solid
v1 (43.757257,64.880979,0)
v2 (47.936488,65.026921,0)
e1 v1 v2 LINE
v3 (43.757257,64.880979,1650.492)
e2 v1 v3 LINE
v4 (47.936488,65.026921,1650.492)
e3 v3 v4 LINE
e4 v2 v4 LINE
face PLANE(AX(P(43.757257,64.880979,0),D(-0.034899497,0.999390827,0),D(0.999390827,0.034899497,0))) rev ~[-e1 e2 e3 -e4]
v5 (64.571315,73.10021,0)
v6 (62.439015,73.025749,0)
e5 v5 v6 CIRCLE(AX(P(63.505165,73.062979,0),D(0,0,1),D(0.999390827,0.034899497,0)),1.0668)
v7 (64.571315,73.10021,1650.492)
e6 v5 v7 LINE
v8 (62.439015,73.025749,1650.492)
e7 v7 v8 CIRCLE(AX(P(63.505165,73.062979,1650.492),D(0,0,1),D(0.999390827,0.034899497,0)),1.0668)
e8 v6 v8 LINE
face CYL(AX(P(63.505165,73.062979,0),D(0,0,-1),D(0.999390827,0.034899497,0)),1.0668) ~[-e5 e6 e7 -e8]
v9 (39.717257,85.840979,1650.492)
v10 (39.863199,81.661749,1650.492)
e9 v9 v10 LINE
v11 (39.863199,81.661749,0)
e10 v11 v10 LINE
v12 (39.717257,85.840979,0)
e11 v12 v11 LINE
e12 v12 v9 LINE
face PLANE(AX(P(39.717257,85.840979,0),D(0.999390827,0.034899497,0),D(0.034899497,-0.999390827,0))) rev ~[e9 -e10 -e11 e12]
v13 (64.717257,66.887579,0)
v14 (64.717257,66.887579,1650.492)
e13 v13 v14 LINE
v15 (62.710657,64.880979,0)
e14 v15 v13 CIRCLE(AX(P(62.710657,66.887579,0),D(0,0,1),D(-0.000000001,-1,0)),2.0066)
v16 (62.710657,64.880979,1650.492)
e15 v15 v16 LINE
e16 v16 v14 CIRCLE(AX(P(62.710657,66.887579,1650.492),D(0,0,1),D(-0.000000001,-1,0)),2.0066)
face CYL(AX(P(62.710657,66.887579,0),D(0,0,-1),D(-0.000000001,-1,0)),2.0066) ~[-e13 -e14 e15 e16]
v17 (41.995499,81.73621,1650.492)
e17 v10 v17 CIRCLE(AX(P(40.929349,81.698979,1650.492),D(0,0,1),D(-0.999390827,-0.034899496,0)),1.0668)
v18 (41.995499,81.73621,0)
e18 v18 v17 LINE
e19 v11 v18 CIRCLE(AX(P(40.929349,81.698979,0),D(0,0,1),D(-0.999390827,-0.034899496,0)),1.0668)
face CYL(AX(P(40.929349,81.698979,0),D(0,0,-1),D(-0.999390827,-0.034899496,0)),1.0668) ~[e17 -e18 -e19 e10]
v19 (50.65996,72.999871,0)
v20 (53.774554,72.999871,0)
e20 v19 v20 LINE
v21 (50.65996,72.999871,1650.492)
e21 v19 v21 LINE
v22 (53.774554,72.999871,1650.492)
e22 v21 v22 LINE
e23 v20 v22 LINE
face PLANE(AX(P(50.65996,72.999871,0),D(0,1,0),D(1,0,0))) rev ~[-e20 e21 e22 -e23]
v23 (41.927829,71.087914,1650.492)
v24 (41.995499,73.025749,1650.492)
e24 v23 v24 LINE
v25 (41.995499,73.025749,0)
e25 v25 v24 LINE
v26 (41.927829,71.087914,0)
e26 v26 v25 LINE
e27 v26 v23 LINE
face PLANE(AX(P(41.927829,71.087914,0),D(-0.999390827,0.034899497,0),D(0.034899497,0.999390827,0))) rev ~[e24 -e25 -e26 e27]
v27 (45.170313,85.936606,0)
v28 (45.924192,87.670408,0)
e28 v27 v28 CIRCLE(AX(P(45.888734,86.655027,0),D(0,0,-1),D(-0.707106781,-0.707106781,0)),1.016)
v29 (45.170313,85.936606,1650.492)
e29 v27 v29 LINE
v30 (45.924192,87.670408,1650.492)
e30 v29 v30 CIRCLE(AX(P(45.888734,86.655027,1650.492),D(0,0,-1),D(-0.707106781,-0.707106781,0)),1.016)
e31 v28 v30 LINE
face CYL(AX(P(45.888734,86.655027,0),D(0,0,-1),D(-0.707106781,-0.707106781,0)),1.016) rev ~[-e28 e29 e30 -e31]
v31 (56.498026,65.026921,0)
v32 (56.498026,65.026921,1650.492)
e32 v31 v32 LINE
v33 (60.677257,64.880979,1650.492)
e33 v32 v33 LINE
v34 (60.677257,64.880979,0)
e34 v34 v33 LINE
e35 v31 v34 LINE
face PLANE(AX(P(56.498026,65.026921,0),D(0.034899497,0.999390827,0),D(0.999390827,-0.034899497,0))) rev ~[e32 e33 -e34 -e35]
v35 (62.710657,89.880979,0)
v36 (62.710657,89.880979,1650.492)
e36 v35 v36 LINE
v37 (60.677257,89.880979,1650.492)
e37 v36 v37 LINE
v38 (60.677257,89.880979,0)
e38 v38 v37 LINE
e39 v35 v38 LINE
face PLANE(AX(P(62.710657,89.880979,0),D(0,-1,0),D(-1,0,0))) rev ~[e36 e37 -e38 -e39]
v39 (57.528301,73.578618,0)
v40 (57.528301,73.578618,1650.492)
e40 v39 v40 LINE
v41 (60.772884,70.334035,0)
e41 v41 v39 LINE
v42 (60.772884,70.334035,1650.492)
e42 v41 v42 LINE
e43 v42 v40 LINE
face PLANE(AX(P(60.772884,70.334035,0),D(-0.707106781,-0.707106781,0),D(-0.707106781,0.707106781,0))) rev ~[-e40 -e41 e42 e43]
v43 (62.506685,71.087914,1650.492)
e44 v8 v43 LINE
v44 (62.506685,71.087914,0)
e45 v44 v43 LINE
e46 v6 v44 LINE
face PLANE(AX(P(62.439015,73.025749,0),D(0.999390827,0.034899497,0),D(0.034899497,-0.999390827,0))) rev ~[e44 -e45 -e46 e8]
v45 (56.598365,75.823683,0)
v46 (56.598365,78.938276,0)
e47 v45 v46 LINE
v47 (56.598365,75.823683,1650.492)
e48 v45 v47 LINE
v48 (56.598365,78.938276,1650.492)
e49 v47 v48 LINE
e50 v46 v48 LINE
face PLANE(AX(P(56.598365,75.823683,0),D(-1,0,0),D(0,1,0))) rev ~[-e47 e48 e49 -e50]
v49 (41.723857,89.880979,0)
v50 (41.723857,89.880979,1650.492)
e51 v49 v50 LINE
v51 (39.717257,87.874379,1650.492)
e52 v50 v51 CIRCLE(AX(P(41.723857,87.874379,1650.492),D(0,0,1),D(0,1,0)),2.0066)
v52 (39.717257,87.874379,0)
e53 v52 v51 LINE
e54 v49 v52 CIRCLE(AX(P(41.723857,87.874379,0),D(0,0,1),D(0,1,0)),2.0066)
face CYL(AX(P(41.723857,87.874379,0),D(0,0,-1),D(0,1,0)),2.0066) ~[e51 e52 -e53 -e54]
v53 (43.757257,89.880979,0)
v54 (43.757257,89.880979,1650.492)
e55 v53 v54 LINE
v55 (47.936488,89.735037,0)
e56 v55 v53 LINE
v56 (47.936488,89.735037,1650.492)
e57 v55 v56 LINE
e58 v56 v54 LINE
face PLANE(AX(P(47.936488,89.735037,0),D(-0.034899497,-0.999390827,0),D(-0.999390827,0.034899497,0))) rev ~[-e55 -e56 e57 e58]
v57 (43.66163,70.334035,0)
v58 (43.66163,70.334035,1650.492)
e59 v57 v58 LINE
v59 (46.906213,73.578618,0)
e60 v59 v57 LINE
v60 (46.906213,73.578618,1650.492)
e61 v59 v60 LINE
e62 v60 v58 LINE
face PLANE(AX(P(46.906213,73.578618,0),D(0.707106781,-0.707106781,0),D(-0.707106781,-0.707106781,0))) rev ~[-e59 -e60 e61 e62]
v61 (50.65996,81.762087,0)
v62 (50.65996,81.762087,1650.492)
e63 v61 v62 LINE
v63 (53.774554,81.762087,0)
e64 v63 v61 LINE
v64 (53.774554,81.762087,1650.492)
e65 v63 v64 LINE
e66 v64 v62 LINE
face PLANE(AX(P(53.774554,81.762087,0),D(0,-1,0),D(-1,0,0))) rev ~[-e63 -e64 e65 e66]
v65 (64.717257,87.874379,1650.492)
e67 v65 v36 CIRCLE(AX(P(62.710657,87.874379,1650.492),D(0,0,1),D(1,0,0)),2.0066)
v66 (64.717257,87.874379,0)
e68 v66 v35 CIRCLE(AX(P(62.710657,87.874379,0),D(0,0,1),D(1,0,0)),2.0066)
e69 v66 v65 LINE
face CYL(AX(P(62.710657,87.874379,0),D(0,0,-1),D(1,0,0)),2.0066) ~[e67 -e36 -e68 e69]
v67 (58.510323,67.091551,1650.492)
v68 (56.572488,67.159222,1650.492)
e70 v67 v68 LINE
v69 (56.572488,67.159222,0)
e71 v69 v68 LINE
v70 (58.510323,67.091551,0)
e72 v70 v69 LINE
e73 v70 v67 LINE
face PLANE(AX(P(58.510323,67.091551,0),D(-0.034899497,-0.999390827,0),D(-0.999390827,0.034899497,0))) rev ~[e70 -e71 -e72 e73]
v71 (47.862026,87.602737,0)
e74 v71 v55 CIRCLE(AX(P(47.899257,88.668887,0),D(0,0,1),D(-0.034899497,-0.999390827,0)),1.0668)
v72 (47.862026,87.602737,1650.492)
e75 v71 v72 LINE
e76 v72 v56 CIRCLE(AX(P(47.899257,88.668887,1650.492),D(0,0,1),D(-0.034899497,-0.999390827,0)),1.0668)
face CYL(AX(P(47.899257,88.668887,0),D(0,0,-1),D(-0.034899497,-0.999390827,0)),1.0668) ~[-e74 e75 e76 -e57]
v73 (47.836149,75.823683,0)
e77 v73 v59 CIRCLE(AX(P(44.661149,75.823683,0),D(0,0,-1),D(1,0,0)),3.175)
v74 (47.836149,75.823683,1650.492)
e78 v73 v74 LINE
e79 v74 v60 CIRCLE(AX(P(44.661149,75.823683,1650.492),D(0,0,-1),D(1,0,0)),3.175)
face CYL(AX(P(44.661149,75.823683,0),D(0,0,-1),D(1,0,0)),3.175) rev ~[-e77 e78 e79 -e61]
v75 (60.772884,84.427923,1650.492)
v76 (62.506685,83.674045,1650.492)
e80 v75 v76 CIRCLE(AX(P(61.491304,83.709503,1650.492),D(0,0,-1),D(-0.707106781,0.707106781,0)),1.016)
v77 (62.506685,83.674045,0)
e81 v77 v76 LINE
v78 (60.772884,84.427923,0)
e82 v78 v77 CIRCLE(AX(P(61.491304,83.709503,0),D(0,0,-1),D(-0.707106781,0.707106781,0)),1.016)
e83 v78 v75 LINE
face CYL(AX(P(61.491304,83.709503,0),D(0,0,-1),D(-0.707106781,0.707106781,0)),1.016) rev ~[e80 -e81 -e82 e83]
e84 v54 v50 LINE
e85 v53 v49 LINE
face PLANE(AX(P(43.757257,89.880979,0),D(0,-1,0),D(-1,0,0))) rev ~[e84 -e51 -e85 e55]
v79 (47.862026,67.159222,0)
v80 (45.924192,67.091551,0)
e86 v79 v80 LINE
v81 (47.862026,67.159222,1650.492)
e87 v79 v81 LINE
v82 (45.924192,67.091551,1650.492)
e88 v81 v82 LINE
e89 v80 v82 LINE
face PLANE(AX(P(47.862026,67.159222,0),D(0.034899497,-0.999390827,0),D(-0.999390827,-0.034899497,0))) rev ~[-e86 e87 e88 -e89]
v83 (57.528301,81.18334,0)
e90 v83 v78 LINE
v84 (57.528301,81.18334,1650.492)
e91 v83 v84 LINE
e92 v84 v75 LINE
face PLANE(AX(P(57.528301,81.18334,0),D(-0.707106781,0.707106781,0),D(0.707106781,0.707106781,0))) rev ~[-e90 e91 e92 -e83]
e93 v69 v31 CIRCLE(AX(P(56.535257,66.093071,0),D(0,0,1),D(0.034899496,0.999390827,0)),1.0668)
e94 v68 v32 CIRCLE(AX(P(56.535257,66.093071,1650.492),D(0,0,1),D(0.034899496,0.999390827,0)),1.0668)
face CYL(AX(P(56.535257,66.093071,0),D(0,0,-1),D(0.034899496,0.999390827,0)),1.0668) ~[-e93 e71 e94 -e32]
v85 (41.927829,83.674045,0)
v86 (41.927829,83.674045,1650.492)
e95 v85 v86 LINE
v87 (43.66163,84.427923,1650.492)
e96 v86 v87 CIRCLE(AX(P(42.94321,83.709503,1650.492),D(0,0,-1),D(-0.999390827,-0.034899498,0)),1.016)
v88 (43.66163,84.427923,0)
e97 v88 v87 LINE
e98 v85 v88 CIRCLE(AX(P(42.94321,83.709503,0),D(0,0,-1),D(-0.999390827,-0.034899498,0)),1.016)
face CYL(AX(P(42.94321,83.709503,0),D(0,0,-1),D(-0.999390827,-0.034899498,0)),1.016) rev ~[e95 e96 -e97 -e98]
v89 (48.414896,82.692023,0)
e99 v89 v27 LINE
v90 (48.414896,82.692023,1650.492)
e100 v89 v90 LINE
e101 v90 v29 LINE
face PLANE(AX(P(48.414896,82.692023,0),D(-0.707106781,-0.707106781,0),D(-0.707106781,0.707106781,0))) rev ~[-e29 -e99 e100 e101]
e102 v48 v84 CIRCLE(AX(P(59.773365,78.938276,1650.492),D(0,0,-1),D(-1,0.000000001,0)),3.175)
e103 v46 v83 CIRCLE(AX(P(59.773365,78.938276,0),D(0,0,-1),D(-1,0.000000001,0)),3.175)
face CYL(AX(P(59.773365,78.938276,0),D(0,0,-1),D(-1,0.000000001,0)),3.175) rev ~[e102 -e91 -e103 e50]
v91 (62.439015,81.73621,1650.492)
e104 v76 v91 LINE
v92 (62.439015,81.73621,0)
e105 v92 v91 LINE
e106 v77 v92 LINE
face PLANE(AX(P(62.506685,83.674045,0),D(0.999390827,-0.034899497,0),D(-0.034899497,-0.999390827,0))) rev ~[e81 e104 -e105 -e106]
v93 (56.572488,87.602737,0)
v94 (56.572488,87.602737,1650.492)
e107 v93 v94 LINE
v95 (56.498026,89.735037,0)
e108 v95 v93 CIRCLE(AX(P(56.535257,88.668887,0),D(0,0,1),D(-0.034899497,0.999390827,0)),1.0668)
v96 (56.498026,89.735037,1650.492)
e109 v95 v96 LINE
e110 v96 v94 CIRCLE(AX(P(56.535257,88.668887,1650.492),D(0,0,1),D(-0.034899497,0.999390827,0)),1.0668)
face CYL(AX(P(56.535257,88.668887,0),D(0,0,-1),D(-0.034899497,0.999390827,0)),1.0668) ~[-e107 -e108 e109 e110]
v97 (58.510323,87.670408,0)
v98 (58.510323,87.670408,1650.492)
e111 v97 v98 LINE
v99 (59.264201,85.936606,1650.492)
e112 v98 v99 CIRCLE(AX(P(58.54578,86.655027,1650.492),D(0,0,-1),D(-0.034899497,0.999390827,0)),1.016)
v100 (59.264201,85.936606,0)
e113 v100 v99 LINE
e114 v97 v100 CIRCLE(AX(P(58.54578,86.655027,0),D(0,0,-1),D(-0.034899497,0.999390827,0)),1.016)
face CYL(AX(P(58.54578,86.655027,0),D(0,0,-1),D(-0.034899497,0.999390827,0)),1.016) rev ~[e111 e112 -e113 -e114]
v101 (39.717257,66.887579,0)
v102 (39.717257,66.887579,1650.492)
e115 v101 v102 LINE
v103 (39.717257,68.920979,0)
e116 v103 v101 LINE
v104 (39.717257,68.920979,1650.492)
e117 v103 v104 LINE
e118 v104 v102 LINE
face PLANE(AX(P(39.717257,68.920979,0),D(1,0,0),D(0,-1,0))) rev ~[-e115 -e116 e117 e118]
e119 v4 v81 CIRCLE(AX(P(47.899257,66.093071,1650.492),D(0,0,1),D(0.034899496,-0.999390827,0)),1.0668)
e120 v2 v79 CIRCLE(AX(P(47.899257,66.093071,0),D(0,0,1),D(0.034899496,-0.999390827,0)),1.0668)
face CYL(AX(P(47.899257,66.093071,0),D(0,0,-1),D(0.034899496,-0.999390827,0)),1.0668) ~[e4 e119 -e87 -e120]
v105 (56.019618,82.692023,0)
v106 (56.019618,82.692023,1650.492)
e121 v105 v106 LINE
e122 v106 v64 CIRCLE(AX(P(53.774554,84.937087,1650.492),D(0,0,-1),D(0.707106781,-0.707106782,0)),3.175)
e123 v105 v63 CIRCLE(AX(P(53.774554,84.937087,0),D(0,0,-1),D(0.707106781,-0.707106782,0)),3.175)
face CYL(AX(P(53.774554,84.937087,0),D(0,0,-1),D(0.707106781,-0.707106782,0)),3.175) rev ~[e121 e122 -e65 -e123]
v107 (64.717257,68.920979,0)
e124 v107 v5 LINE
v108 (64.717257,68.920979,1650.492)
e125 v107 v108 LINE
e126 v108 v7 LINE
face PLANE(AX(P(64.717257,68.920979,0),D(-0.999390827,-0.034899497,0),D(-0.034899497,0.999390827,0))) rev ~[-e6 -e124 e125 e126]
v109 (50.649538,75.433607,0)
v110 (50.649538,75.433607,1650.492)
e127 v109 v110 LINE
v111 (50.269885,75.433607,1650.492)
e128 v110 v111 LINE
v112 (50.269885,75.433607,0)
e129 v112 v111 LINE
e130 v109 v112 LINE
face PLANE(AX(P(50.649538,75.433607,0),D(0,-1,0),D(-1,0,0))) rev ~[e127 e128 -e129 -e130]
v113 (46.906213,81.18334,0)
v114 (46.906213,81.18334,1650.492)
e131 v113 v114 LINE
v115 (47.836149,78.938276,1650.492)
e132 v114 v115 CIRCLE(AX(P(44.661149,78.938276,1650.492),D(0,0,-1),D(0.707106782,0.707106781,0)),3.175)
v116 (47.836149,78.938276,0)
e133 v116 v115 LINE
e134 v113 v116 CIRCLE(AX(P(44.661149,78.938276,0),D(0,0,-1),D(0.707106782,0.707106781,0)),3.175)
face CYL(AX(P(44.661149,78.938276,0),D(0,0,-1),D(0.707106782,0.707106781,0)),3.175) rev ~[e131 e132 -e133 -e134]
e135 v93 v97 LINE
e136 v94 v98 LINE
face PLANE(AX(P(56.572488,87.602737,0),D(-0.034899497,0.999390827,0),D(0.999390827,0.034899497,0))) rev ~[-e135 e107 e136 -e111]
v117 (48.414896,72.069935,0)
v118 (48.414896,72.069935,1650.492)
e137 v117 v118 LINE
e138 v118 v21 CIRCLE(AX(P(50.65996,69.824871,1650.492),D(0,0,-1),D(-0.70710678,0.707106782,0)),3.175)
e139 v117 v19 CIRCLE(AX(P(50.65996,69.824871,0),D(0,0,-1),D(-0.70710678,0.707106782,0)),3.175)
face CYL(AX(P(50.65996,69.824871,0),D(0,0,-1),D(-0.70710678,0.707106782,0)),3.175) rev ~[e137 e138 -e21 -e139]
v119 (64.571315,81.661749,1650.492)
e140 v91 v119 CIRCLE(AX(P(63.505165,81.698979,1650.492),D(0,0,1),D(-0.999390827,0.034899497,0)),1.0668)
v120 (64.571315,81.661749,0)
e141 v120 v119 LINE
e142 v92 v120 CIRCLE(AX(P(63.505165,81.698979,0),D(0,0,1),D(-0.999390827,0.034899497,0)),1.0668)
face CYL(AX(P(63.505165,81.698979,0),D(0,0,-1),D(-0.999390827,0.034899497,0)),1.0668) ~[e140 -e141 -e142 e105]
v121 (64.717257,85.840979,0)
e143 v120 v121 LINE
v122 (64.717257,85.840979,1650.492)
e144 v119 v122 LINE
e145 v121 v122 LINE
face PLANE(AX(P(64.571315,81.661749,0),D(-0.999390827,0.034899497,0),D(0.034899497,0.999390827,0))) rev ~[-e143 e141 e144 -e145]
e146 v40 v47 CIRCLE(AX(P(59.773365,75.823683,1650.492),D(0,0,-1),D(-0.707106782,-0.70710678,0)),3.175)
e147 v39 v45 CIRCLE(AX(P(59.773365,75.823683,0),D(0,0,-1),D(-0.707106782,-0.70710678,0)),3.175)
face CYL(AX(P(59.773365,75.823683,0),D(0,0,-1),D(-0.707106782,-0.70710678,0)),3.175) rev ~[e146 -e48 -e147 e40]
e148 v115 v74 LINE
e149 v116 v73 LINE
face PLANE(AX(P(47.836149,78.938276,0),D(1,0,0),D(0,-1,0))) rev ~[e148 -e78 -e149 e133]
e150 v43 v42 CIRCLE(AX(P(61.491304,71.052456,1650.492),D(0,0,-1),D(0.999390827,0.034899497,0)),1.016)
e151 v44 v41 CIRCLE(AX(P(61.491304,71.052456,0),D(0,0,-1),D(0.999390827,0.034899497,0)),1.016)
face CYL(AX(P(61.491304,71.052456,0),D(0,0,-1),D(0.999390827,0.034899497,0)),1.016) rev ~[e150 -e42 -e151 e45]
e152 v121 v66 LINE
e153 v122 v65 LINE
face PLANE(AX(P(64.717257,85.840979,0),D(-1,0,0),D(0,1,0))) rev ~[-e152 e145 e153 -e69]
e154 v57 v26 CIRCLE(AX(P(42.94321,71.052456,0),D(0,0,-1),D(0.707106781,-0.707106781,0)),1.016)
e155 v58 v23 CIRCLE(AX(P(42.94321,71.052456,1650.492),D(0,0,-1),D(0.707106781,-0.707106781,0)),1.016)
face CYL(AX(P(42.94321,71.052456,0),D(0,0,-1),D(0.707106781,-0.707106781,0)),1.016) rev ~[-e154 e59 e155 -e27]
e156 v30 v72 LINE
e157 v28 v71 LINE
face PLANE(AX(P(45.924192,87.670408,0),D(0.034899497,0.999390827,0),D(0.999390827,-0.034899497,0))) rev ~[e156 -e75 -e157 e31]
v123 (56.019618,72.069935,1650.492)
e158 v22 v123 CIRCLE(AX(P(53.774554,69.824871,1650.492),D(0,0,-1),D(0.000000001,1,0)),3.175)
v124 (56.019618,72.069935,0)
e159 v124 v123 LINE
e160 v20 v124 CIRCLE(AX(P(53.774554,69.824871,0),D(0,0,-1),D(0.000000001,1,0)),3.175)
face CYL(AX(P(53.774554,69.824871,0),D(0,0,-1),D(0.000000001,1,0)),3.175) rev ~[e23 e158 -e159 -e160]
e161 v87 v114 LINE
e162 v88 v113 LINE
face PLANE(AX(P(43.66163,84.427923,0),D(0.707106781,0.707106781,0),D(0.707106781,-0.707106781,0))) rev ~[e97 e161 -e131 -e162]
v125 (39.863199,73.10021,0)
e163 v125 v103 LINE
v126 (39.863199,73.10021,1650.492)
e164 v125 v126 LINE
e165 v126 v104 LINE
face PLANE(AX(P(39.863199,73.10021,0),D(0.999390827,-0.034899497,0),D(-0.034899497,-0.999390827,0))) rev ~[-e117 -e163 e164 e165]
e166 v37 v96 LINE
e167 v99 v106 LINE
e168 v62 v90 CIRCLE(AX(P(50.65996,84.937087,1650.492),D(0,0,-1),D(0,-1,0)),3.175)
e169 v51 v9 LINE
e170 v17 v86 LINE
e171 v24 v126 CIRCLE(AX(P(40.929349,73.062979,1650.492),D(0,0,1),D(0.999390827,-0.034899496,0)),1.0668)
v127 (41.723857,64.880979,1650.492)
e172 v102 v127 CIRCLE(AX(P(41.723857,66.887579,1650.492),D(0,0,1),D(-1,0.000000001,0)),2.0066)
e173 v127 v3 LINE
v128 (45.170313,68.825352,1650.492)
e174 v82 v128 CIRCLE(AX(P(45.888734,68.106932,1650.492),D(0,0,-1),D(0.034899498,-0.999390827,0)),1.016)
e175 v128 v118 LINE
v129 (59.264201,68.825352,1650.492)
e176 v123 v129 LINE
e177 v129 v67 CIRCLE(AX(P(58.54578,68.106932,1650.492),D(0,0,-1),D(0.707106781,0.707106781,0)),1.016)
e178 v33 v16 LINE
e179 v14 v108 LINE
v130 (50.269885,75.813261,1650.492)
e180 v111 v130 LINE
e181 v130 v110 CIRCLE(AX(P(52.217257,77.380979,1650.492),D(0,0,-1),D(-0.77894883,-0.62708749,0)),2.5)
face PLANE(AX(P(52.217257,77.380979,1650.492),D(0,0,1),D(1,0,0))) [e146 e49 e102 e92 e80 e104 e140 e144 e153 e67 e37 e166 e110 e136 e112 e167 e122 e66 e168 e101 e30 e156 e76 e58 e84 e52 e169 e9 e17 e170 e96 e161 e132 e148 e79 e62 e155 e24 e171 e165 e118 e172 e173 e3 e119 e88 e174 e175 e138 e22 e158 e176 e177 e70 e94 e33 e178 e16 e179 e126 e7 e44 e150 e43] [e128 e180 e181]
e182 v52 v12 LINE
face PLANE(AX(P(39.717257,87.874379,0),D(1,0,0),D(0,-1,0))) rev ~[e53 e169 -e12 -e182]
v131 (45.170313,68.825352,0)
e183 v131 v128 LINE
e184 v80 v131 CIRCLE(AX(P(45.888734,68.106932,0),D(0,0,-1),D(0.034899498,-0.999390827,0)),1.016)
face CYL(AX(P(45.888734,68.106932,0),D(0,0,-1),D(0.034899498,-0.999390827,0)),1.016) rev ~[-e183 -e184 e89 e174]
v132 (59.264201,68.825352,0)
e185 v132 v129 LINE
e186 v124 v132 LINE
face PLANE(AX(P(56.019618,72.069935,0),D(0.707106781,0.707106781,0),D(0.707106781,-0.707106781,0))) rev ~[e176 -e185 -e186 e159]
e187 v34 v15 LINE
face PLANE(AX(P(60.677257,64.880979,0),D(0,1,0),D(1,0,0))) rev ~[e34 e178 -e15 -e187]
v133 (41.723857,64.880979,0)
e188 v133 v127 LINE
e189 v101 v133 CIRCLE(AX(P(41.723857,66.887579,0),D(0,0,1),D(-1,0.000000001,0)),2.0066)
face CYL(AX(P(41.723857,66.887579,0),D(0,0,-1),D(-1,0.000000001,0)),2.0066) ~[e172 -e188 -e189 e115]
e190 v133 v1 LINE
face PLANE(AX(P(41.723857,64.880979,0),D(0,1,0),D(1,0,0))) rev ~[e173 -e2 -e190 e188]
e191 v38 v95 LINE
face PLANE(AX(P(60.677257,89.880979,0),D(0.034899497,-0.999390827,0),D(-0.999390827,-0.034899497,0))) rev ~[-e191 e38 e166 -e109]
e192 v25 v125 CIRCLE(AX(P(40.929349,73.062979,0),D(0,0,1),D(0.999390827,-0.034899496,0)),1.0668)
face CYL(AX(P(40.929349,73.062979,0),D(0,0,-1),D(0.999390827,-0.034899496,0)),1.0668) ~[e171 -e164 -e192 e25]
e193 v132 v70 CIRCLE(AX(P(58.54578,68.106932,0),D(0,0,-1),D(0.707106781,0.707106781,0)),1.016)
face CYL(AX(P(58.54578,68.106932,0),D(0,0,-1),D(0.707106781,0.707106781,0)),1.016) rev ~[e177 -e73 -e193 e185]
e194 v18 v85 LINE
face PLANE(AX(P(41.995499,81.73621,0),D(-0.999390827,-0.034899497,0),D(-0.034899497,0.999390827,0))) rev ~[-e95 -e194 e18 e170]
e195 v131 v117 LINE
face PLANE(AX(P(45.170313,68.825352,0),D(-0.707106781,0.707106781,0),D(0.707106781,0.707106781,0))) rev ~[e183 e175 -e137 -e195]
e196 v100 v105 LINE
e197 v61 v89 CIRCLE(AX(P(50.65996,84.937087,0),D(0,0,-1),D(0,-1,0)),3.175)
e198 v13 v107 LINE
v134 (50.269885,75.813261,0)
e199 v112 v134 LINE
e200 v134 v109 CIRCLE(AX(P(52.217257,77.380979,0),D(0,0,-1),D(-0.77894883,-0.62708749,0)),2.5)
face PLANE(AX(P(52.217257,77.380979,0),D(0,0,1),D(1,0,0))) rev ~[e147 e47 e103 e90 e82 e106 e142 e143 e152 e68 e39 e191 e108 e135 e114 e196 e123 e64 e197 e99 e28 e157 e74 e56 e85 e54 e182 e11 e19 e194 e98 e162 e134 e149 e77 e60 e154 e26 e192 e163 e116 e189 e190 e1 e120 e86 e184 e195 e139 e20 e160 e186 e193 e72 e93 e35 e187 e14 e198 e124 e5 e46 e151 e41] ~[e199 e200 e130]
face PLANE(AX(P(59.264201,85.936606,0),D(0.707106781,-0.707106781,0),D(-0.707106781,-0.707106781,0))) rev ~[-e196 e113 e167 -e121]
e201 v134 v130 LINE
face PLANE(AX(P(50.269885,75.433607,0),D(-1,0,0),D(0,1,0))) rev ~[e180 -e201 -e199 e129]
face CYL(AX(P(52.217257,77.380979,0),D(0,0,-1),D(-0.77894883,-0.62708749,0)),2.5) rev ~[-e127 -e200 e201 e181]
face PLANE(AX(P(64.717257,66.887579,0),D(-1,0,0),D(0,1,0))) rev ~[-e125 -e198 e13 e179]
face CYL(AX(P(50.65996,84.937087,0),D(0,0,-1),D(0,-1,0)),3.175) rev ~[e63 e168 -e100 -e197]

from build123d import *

# Parameters (mm, degrees)
BOSS_EXTRUDE1_DEPTH = 1650.492


with BuildPart() as part:
    # Model → Boss-Extrude1 (new body)
    with BuildSketch(Plane.XY):
        with BuildLine():
            Line((50.659960212, 72.999871414), (53.774553856, 72.999871414))
            ThreePointArc((53.774553856, 72.999871414), (54.989573754, 72.758188929), (56.019617887, 72.069935444))
            Line((56.019617887, 72.069935444), (59.264200891, 68.825352439))
            ThreePointArc((59.264200891, 68.825352439), (59.477513437, 67.701802895), (58.510322513, 67.091550869))
            Line((58.510322513, 67.091550869), (56.572487817, 67.159221548))
            ThreePointArc((56.572487817, 67.159221548), (55.4691069, 66.130302197), (56.498026251, 65.026921279))
            Line((56.498026251, 65.026921279), (60.677257034, 64.880979325))
            Line((60.677257034, 64.880979325), (62.710657034, 64.880979325))
            ThreePointArc((62.710657034, 64.880979325), (64.129537501, 65.468698857), (64.717257034, 66.887579325))
            Line((64.717257034, 66.887579325), (64.717257034, 68.920979325))
            Line((64.717257034, 68.920979325), (64.57131508, 73.100210108))
            ThreePointArc((64.57131508, 73.100210108), (63.467934162, 74.129129459), (62.439014811, 73.025748542))
            Line((62.439014811, 73.025748542), (62.50668549, 71.087913846))
            ThreePointArc((62.50668549, 71.087913846), (61.896433464, 70.120722922), (60.77288392, 70.334035468))
            Line((60.77288392, 70.334035468), (57.528300915, 73.578618472))
            ThreePointArc((57.528300915, 73.578618472), (56.84004743, 74.608662605), (56.598364945, 75.823682503))
            Line((56.598364945, 75.823682503), (56.598364945, 78.938276147))
            ThreePointArc((56.598364945, 78.938276147), (56.84004743, 80.153296044), (57.528300915, 81.183340177))
            Line((57.528300915, 81.183340177), (60.77288392, 84.427923182))
            ThreePointArc((60.77288392, 84.427923182), (61.896433464, 84.641235728), (62.50668549, 83.674044803))
            Line((62.50668549, 83.674044803), (62.439014811, 81.736210108))
            ThreePointArc((62.439014811, 81.736210108), (63.467934162, 80.63282919), (64.57131508, 81.661748542))
            Line((64.57131508, 81.661748542), (64.717257034, 85.840979325))
            Line((64.717257034, 85.840979325), (64.717257034, 87.874379325))
            ThreePointArc((64.717257034, 87.874379325), (64.129537501, 89.293259792), (62.710657034, 89.880979325))
            Line((62.710657034, 89.880979325), (60.677257034, 89.880979325))
            Line((60.677257034, 89.880979325), (56.498026251, 89.73503737))
            ThreePointArc((56.498026251, 89.73503737), (55.4691069, 88.631656452), (56.572487817, 87.602737101))
            Line((56.572487817, 87.602737101), (58.510322513, 87.67040778))
            ThreePointArc((58.510322513, 87.67040778), (59.477513437, 87.060155754), (59.264200891, 85.93660621))
            Line((59.264200891, 85.93660621), (56.019617887, 82.692023205))
            ThreePointArc((56.019617887, 82.692023205), (54.989573754, 82.00376972), (53.774553856, 81.762087236))
            Line((53.774553856, 81.762087236), (50.659960212, 81.762087236))
            ThreePointArc((50.659960212, 81.762087236), (49.444940315, 82.00376972), (48.414896182, 82.692023205))
            Line((48.414896182, 82.692023205), (45.170313177, 85.93660621))
            ThreePointArc((45.170313177, 85.93660621), (44.957000631, 87.060155754), (45.924191556, 87.67040778))
            Line((45.924191556, 87.67040778), (47.862026251, 87.602737101))
            ThreePointArc((47.862026251, 87.602737101), (48.965407169, 88.631656452), (47.936487817, 89.73503737))
            Line((47.936487817, 89.73503737), (43.757257034, 89.880979325))
            Line((43.757257034, 89.880979325), (41.723857034, 89.880979325))
            ThreePointArc((41.723857034, 89.880979325), (40.304976567, 89.293259792), (39.717257034, 87.874379325))
            Line((39.717257034, 87.874379325), (39.717257034, 85.840979325))
            Line((39.717257034, 85.840979325), (39.863198989, 81.661748542))
            ThreePointArc((39.863198989, 81.661748542), (40.966579907, 80.63282919), (41.995499258, 81.736210108))
            Line((41.995499258, 81.736210108), (41.927828579, 83.674044803))
            ThreePointArc((41.927828579, 83.674044803), (42.538080605, 84.641235728), (43.661630149, 84.427923182))
            Line((43.661630149, 84.427923182), (46.906213154, 81.183340177))
            ThreePointArc((46.906213154, 81.183340177), (47.594466639, 80.153296044), (47.836149123, 78.938276147))
            Line((47.836149123, 78.938276147), (47.836149123, 75.823682503))
            ThreePointArc((47.836149123, 75.823682503), (47.594466639, 74.608662605), (46.906213154, 73.578618472))
            Line((46.906213154, 73.578618472), (43.661630149, 70.334035468))
            ThreePointArc((43.661630149, 70.334035468), (42.538080605, 70.120722922), (41.927828579, 71.087913846))
            Line((41.927828579, 71.087913846), (41.995499258, 73.025748542))
            ThreePointArc((41.995499258, 73.025748542), (40.966579907, 74.129129459), (39.863198989, 73.100210108))
            Line((39.863198989, 73.100210108), (39.717257034, 68.920979325))
            Line((39.717257034, 68.920979325), (39.717257034, 66.887579325))
            ThreePointArc((39.717257034, 66.887579325), (40.304976567, 65.468698857), (41.723857034, 64.880979325))
            Line((41.723857034, 64.880979325), (43.757257034, 64.880979325))
            Line((43.757257034, 64.880979325), (47.936487817, 65.026921279))
            ThreePointArc((47.936487817, 65.026921279), (48.965407169, 66.130302197), (47.862026251, 67.159221548))
            Line((47.862026251, 67.159221548), (45.924191556, 67.091550869))
            ThreePointArc((45.924191556, 67.091550869), (44.957000631, 67.701802895), (45.170313177, 68.825352439))
            Line((45.170313177, 68.825352439), (48.414896182, 72.069935444))
            ThreePointArc((48.414896182, 72.069935444), (49.444940315, 72.758188929), (50.659960212, 72.999871414))
        make_face()
        with BuildLine():
            Line((50.64953831, 75.433607249), (50.269884959, 75.433607249))
            Line((50.269884959, 75.433607249), (50.269884959, 75.8132606))
            ThreePointArc((50.269884959, 75.8132606), (53.985023987, 79.148746278), (50.64953831, 75.433607249))
        make_face(mode=Mode.SUBTRACT)
    extrude(amount=BOSS_EXTRUDE1_DEPTH)


solid = part.part
